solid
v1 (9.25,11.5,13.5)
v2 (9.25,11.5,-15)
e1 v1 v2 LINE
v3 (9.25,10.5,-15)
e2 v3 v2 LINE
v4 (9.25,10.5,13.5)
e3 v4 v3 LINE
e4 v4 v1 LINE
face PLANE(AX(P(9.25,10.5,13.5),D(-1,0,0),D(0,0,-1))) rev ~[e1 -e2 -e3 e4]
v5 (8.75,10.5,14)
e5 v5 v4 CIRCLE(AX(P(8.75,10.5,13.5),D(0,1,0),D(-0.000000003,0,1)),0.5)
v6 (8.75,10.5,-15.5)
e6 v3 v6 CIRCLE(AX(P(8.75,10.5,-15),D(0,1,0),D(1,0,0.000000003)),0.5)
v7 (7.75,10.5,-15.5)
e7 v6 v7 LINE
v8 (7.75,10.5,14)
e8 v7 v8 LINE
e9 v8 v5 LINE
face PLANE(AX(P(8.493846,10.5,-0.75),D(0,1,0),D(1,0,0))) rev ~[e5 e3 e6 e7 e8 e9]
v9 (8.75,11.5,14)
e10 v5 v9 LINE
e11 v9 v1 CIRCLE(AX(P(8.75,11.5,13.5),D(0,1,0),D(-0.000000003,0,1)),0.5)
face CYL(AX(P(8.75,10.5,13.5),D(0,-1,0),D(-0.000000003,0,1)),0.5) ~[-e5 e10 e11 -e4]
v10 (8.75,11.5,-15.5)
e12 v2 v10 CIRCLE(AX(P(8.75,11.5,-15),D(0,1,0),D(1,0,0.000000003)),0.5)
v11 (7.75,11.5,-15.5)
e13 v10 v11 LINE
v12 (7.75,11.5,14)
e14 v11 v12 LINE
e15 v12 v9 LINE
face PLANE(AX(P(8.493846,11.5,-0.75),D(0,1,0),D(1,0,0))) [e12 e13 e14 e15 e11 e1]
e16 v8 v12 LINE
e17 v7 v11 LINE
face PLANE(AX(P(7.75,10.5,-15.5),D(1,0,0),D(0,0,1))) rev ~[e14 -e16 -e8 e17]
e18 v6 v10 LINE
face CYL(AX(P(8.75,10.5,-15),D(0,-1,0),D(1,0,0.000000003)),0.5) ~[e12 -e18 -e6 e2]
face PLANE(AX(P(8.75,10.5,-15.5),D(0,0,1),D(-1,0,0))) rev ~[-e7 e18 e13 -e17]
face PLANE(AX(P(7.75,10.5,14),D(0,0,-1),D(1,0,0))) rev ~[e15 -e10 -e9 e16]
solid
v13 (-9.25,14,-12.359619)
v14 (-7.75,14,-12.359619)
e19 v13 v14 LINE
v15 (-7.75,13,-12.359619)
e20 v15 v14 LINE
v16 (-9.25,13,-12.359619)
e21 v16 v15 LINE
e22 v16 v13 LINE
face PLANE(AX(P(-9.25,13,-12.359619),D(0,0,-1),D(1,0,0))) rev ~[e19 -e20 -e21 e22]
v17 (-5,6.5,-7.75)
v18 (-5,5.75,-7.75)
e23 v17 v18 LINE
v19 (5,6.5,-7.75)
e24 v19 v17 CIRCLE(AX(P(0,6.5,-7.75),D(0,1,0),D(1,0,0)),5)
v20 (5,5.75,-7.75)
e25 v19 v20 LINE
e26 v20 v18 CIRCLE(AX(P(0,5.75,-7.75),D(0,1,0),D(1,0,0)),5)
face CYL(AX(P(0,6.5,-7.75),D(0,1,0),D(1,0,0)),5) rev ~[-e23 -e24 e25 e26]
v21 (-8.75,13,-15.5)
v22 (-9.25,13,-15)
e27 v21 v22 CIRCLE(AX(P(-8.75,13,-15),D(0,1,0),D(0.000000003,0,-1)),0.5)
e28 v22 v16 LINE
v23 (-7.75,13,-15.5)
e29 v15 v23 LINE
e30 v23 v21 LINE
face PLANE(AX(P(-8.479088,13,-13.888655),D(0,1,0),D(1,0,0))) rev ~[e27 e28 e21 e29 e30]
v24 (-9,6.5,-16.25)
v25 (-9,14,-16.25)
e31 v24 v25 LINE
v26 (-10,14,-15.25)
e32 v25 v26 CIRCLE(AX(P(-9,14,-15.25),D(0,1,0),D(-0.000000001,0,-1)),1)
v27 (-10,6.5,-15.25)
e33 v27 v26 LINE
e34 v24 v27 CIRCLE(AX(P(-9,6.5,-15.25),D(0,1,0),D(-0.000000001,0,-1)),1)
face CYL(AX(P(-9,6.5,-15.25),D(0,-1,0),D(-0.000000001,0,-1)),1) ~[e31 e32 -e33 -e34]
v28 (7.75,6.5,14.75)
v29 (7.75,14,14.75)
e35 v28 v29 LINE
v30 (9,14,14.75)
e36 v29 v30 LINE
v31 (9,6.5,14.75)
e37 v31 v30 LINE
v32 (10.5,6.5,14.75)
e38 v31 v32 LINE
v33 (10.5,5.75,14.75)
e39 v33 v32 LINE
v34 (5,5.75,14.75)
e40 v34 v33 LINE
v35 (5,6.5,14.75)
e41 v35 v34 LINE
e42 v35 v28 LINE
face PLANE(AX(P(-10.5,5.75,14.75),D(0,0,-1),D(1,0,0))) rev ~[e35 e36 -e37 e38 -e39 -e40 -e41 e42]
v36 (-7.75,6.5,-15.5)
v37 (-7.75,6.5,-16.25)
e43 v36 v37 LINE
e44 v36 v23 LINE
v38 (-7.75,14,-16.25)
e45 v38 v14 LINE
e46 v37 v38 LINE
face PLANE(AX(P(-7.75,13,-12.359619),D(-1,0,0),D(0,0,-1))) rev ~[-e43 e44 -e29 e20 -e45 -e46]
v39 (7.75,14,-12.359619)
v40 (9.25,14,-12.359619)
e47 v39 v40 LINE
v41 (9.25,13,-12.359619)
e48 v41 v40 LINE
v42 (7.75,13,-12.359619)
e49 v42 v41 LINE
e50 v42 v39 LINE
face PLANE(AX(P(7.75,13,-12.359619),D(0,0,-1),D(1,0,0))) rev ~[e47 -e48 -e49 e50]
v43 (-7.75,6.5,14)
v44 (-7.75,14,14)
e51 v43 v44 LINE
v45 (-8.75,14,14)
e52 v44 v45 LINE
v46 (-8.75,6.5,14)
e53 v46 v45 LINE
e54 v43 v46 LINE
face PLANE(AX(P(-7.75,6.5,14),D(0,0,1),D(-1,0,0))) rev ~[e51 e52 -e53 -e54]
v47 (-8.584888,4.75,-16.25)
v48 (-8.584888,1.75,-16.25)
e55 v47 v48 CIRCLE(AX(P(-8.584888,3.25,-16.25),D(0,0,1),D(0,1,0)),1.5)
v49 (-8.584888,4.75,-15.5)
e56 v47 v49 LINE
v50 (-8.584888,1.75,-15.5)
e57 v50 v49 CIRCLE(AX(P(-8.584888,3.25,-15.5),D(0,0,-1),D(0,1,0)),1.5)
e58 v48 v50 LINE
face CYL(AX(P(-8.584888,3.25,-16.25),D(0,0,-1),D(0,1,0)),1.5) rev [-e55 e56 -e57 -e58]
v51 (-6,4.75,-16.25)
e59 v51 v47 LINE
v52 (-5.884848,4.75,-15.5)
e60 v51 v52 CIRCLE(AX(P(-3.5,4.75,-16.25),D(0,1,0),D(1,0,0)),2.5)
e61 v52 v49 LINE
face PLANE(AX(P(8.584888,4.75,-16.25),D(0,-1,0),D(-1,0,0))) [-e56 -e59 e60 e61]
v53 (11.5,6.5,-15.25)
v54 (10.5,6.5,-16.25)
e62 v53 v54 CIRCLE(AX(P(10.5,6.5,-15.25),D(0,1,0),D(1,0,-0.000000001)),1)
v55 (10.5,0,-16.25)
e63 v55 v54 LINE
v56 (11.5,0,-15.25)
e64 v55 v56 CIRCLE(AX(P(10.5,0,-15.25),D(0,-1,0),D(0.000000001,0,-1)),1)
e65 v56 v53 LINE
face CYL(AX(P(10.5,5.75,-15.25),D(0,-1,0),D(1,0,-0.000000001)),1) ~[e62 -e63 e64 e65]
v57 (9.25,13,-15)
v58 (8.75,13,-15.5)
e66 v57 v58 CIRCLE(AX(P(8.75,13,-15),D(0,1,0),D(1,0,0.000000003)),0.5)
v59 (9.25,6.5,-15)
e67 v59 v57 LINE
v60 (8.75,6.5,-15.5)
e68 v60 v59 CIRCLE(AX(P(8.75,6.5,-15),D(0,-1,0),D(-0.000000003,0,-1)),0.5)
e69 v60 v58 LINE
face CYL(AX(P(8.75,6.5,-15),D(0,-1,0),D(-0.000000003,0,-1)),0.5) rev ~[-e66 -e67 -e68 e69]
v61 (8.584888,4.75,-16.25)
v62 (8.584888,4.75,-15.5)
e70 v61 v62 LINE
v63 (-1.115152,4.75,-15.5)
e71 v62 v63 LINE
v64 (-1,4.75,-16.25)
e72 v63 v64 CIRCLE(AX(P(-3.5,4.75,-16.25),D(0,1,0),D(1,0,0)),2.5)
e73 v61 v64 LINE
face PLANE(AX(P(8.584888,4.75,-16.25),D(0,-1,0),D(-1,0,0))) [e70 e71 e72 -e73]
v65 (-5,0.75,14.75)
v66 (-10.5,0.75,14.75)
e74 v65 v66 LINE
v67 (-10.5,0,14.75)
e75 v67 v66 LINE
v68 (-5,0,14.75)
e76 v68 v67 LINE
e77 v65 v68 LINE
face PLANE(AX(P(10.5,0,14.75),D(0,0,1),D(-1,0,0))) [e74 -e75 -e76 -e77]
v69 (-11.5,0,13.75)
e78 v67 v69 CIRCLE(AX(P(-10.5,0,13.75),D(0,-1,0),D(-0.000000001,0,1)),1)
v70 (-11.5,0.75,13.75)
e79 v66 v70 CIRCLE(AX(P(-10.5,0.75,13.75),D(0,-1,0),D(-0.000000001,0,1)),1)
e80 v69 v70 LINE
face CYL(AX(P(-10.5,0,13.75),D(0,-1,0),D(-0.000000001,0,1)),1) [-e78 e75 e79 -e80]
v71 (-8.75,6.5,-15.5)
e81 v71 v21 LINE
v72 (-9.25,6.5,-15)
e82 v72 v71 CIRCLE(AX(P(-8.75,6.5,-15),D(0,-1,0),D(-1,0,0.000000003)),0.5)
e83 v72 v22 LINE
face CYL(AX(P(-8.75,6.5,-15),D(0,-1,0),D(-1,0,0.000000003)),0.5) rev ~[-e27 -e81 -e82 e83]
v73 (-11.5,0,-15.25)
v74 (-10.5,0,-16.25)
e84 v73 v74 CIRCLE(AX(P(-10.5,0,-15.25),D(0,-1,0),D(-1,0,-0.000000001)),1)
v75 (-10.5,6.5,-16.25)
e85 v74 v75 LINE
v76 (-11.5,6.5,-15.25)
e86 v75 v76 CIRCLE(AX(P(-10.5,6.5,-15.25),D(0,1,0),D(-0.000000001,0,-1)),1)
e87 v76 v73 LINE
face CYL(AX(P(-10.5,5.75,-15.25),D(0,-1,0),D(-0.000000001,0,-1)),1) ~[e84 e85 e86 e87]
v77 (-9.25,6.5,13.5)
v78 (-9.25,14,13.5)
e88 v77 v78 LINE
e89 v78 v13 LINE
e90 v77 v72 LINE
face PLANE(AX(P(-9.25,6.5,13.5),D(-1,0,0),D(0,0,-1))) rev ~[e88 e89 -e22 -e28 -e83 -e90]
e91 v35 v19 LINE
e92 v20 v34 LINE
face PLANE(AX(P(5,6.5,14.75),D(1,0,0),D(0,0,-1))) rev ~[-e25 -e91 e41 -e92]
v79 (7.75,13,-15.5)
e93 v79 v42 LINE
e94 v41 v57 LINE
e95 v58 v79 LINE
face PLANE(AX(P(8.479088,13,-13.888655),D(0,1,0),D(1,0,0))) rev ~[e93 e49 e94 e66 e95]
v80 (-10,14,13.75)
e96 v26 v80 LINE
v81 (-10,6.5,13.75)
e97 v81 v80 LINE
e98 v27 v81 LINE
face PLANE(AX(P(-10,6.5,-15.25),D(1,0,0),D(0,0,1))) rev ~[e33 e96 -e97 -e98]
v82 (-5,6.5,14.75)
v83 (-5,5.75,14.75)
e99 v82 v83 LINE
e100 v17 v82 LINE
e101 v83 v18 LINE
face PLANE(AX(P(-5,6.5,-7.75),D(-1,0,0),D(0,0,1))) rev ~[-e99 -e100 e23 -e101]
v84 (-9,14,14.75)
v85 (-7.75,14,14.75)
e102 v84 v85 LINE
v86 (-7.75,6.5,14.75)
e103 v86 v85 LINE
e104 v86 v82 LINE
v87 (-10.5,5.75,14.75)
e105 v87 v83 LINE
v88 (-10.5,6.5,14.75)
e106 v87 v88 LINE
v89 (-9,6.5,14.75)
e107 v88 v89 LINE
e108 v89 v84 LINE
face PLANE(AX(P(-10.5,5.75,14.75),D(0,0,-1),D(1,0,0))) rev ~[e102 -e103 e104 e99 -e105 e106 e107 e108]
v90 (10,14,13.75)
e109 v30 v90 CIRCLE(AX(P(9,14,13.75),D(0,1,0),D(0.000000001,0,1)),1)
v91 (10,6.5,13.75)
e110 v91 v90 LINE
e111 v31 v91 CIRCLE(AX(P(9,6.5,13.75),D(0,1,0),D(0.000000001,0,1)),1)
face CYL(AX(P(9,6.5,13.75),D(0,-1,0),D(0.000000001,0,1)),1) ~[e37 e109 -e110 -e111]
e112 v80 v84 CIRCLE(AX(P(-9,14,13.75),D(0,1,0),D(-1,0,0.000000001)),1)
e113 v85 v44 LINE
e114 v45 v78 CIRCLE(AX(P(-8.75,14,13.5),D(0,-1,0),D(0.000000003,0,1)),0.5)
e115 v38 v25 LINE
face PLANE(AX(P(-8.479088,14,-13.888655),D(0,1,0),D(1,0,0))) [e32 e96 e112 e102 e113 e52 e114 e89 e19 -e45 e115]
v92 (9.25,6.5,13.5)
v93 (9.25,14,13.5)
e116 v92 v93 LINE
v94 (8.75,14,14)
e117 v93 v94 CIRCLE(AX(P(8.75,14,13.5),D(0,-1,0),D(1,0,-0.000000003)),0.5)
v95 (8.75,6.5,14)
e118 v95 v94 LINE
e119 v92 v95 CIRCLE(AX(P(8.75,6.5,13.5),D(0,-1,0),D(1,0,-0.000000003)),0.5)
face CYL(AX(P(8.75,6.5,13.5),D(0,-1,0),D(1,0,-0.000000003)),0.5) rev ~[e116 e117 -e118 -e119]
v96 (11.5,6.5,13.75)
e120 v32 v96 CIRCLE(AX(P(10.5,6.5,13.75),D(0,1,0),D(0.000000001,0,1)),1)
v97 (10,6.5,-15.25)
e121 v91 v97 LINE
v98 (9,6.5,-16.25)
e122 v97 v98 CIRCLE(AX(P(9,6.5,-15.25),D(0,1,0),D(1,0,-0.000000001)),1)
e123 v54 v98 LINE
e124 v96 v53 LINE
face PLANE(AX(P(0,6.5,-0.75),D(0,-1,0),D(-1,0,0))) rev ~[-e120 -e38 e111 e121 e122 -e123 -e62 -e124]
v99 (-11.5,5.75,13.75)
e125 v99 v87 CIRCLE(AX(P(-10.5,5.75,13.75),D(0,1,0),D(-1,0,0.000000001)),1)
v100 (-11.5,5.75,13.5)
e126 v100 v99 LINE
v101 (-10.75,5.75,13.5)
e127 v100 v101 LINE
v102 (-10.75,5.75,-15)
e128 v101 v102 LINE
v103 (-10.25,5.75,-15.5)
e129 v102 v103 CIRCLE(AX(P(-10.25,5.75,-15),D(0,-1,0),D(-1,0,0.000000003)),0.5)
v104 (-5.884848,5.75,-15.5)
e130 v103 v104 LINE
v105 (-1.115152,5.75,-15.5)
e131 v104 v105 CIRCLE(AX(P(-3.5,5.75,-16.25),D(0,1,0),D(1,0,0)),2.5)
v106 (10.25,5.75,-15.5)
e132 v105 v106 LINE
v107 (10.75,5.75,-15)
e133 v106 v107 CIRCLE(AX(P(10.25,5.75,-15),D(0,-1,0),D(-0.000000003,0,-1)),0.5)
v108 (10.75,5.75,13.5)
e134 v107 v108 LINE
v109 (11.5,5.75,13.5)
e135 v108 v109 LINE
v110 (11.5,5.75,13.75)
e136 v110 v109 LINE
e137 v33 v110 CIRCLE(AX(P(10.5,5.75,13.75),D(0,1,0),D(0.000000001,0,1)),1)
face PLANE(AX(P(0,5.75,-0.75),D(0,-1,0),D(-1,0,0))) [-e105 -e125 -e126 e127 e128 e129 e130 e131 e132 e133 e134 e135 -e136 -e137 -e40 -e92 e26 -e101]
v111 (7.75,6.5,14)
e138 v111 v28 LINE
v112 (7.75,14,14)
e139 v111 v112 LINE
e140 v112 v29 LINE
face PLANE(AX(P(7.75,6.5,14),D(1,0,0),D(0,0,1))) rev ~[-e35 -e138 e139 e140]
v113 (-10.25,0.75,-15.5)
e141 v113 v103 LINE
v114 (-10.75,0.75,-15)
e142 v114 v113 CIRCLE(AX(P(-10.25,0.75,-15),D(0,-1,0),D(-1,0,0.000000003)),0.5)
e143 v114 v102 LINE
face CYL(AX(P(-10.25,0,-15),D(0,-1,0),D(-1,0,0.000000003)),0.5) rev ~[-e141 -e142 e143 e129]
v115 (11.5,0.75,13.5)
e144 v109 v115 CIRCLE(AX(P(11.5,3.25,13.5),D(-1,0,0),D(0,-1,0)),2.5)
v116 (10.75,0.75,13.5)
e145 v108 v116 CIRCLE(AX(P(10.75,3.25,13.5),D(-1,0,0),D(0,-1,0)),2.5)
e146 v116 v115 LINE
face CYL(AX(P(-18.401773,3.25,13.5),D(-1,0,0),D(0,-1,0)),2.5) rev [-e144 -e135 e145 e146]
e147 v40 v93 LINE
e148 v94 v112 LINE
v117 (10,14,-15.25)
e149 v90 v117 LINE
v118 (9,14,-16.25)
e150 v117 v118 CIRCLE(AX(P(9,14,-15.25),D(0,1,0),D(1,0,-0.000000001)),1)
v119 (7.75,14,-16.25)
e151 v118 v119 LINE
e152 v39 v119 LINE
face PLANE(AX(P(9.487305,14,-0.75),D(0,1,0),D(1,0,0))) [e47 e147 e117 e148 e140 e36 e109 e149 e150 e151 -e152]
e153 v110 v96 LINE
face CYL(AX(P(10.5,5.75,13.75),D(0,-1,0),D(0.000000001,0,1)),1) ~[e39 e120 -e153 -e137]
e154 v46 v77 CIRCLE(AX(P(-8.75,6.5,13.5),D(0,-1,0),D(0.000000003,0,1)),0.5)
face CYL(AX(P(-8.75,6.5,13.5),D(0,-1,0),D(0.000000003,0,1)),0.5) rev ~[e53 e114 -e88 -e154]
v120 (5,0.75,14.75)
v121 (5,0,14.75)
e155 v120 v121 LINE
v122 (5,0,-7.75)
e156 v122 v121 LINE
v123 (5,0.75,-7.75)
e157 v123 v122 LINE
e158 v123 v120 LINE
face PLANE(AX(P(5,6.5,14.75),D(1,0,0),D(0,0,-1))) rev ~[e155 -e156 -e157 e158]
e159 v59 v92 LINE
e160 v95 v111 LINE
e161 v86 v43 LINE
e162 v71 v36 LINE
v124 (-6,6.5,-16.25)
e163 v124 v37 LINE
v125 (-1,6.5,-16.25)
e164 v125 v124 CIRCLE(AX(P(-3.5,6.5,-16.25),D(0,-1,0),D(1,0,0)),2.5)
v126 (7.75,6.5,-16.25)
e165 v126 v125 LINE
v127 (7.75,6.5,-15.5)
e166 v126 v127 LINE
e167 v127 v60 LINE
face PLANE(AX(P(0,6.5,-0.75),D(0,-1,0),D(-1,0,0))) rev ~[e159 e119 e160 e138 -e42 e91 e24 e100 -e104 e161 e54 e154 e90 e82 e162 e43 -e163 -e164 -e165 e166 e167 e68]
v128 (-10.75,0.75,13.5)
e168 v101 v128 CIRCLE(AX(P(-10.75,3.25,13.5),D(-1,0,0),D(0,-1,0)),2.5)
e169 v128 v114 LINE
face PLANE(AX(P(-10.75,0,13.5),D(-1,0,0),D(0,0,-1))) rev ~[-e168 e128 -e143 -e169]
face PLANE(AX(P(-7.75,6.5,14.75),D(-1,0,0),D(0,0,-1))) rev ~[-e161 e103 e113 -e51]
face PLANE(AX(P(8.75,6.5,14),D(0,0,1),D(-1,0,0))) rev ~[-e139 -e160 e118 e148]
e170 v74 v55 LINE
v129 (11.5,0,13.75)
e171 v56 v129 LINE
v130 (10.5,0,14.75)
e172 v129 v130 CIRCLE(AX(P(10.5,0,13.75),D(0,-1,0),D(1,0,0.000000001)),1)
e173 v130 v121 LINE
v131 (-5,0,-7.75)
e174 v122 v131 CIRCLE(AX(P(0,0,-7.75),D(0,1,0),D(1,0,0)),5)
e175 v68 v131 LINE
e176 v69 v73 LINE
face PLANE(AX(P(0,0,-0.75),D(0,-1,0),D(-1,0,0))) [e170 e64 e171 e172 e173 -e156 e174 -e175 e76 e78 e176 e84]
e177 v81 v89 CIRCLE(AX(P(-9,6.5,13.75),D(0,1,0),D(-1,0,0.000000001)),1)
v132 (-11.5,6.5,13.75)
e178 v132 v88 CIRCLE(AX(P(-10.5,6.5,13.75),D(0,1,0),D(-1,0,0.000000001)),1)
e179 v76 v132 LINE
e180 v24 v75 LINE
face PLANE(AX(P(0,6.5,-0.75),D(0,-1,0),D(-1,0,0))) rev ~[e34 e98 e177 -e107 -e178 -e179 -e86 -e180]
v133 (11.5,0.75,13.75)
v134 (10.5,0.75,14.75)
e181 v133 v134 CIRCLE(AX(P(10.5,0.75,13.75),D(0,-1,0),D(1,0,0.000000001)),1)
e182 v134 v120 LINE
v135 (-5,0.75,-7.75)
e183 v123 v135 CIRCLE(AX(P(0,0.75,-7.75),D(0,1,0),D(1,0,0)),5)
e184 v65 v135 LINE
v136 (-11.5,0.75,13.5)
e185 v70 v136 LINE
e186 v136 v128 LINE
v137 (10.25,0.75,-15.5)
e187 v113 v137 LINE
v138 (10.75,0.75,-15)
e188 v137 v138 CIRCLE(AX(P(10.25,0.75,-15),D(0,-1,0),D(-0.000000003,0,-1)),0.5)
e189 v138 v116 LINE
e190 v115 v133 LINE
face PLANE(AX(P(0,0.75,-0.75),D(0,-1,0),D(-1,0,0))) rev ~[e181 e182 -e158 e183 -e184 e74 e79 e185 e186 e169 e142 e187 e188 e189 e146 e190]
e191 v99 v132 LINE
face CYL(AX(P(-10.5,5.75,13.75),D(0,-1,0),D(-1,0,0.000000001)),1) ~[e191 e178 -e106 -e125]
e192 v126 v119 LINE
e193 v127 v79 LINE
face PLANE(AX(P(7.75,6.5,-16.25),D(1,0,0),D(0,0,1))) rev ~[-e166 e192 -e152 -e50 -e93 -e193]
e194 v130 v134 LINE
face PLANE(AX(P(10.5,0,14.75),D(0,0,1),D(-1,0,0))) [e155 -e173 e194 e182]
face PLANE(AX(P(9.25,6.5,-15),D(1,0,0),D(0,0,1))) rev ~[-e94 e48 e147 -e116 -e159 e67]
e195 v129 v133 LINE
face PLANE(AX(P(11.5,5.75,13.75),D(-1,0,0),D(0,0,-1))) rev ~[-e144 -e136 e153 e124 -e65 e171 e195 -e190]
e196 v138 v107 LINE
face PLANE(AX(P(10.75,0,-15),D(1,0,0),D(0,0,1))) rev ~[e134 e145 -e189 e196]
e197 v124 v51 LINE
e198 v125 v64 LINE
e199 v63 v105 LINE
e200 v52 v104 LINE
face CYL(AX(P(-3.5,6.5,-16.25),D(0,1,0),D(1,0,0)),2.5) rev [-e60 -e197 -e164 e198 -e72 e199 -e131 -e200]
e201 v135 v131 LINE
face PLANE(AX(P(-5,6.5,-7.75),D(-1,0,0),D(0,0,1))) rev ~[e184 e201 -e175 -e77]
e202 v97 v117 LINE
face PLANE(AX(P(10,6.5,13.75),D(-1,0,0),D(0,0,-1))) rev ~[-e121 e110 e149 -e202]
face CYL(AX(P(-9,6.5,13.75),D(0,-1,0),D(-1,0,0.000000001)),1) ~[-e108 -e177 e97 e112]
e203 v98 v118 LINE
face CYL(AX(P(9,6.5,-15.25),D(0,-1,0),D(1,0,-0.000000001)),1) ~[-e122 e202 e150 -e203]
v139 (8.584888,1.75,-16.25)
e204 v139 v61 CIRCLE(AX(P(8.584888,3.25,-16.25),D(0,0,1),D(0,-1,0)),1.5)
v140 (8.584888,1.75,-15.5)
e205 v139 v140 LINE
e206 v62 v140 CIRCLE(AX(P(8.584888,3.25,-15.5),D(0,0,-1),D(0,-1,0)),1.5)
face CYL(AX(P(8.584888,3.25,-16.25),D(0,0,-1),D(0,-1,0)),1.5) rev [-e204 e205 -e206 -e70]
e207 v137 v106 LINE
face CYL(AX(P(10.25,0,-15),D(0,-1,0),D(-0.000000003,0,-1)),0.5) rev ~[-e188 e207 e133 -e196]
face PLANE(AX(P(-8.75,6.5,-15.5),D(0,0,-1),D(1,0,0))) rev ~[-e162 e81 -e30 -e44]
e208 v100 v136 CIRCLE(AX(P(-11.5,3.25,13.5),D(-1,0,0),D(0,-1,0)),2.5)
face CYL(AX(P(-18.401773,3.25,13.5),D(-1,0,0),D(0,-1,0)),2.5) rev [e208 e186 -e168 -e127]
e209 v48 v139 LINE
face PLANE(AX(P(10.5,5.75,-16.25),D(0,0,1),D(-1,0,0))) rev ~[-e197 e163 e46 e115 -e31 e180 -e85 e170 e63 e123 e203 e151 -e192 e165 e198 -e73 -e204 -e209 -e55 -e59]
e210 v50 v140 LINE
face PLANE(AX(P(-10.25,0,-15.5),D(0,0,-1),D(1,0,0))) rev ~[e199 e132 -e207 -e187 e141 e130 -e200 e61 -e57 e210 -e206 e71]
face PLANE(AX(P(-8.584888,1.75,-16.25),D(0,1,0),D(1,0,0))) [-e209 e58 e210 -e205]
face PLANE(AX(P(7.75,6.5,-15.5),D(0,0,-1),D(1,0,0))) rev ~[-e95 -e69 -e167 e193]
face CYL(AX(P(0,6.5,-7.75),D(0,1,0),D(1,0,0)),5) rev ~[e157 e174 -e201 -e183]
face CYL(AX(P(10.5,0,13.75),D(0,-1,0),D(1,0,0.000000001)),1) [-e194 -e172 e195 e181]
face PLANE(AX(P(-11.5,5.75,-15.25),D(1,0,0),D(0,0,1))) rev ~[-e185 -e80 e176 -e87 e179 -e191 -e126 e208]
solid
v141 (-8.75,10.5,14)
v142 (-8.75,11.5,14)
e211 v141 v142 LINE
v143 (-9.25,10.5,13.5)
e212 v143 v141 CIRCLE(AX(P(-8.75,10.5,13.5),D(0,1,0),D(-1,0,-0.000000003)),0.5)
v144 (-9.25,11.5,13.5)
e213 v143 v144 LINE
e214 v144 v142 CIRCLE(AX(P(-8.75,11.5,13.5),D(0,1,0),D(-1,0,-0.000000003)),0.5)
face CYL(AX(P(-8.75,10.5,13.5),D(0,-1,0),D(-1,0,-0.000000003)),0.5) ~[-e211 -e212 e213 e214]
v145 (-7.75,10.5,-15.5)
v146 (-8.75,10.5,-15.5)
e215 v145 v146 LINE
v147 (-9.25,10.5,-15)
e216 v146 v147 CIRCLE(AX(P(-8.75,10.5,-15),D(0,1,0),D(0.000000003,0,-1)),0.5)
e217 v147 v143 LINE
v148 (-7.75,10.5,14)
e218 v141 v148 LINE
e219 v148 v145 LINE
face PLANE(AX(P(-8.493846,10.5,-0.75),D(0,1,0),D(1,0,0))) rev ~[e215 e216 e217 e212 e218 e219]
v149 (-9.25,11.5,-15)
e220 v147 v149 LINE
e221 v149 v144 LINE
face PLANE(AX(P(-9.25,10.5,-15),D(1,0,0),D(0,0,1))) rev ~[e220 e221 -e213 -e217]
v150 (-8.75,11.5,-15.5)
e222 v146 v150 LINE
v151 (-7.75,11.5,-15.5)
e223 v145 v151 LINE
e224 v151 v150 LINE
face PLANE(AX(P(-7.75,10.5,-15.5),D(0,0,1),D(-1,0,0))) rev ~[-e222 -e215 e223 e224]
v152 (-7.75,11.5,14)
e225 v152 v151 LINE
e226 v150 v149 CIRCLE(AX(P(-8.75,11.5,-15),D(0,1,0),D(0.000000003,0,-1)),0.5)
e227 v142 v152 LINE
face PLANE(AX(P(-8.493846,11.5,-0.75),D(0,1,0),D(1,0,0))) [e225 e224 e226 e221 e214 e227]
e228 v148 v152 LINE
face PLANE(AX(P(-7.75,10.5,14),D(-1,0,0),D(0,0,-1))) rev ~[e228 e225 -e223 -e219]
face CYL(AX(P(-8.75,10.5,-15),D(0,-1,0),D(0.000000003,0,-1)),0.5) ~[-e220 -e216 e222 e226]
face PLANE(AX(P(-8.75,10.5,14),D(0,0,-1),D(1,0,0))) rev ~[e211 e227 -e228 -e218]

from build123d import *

# Parameters (mm, degrees)
BASE_EXTRUDE_DEPTH          = 0.75
SIDEWALL_EXTRUDE_DEPTH      = 5.75
TOP_EXTRUDE_START           = 5.75
TOP_EXTRUDE_DEPTH           = 0.75
CUT_EXTRUDE1_DEPTH          = 29.901773302
CUT_EXTRUDE1_DEPTH_BACK     = 29.901773302
PCB_SUPPORT_EXTRUDE_START   = 4
PCB_SUPPORT_EXTRUDE_DEPTH   = 1
PCB_SUPPORT_EXTRUDE_2_DEPTH = 1
PCB_RIM_EXTRUDE_DEPTH       = 7.5
CUT_EXTRUDE2_DEPTH          = 22.2735164
CUT_EXTRUDE3_DEPTH          = 3.5
CUT_EXTRUDE4_DEPTH          = 2
BOSS_EXTRUDE1_START         = 6.5
BOSS_EXTRUDE1_DEPTH         = 1


with BuildPart() as part:
    # battery-base → base-extrude (new body)
    with BuildSketch(Plane(origin=(0, 0, 0), x_dir=(1, 0, 0), z_dir=(0, 1, 0))):
        with BuildLine():
            Line((-10.5, 16.25), (10.5, 16.25))
            ThreePointArc((10.5, 16.25), (11.207106781, 15.957106781), (11.5, 15.25))
            Line((11.5, 15.25), (11.5, -13.75))
            ThreePointArc((11.5, -13.75), (11.207106781, -14.457106781), (10.5, -14.75))
            Line((10.5, -14.75), (-10.5, -14.75))
            ThreePointArc((-10.5, -14.75), (-11.207106781, -14.457106781), (-11.5, -13.75))
            Line((-11.5, -13.75), (-11.5, 15.25))
            ThreePointArc((-11.5, 15.25), (-11.207106781, 15.957106781), (-10.5, 16.25))
        make_face()
    extrude(amount=BASE_EXTRUDE_DEPTH)

    # battery-base<12> → sidewall-extrude (add)
    with BuildSketch(Plane(origin=(0, 0, 0), x_dir=(1, 0, 0), z_dir=(0, 1, 0))):
        with BuildLine():
            Line((-11.5, -13.5), (-10.75, -13.5))
            Line((-10.75, -13.5), (-10.75, 15))
            ThreePointArc((-10.75, 15), (-10.603553391, 15.353553391), (-10.25, 15.5))
            Line((-10.25, 15.5), (10.25, 15.5))
            ThreePointArc((10.25, 15.5), (10.603553391, 15.353553391), (10.75, 15))
            Line((10.75, 15), (10.75, -13.5))
            Line((10.75, -13.5), (11.5, -13.5))
            Line((11.5, -13.5), (11.5, 15.25))
            ThreePointArc((11.5, 15.25), (11.207106781, 15.957106781), (10.5, 16.25))
            Line((10.5, 16.25), (-10.5, 16.25))
            ThreePointArc((-10.5, 16.25), (-11.207106781, 15.957106781), (-11.5, 15.25))
            Line((-11.5, 15.25), (-11.5, -13.5))
        make_face()
    extrude(amount=SIDEWALL_EXTRUDE_DEPTH)

    # battery-base<13> → top-extrude (add)
    with BuildSketch(Plane(origin=(0, 0, 0), x_dir=(1, 0, 0), z_dir=(0, 1, 0)).offset(TOP_EXTRUDE_START)):
        with BuildLine():
            Line((11.5, -13.75), (11.5, 15.25))
            ThreePointArc((11.5, 15.25), (11.207106781, 15.957106781), (10.5, 16.25))
            Line((10.5, 16.25), (-10.5, 16.25))
            ThreePointArc((-10.5, 16.25), (-11.207106781, 15.957106781), (-11.5, 15.25))
            Line((-11.5, 15.25), (-11.5, -13.75))
            ThreePointArc((-11.5, -13.75), (-11.207106781, -14.457106781), (-10.5, -14.75))
            Line((-10.5, -14.75), (10.5, -14.75))
            ThreePointArc((10.5, -14.75), (11.207106781, -14.457106781), (11.5, -13.75))
        make_face()
    extrude(amount=TOP_EXTRUDE_DEPTH)

    # round-cut → Cut-Extrude1 (cut, two sides: drawn at the far end of the back side and taken through both)
    with BuildSketch(Plane(origin=(11.5, 0, 0), x_dir=(0, 0, -1), z_dir=(1, 0, 0)).offset(-CUT_EXTRUDE1_DEPTH_BACK)):
        with BuildLine():
            Line((-84.101155105, 0.75), (-13.5, 0.75))
            ThreePointArc((-13.5, 0.75), (-11, 3.25), (-13.5, 5.75))
            Line((-13.5, 5.75), (-84.101155105, 5.75))
            Line((-84.101155105, 5.75), (-225.303465314, 5.75))
            Line((-225.303465314, 5.75), (-225.303465314, 0.75))
            Line((-225.303465314, 0.75), (-84.101155105, 0.75))
        make_face()
    extrude(amount=CUT_EXTRUDE1_DEPTH + CUT_EXTRUDE1_DEPTH_BACK, mode=Mode.SUBTRACT)

    # PCB-support<3> → PCB-rim-extrude (add)
    with BuildSketch(Plane(origin=(0, 6.5, 0), x_dir=(1, 0, 0), z_dir=(0, 1, 0))):
        with BuildLine():
            Line((-7.75, -14.75), (-7.75, -14))
            Line((-7.75, -14), (-8.75, -14))
            ThreePointArc((-8.75, -14), (-9.103553391, -13.853553391), (-9.25, -13.5))
            Line((-9.25, -13.5), (-9.25, 15))
            ThreePointArc((-9.25, 15), (-9.103553391, 15.353553391), (-8.75, 15.5))
            Line((-8.75, 15.5), (-7.75, 15.5))
            Line((-7.75, 15.5), (-7.75, 16.25))
            Line((-7.75, 16.25), (-9, 16.25))
            ThreePointArc((-9, 16.25), (-9.707106781, 15.957106781), (-10, 15.25))
            Line((-10, 15.25), (-10, -13.75))
            ThreePointArc((-10, -13.75), (-9.707106781, -14.457106781), (-9, -14.75))
            Line((-9, -14.75), (-7.75, -14.75))
        make_face()
        with BuildLine():
            Line((8.75, -14), (7.75, -14))
            Line((7.75, -14), (7.75, -14.75))
            Line((7.75, -14.75), (9, -14.75))
            ThreePointArc((9, -14.75), (9.707106781, -14.457106781), (10, -13.75))
            Line((10, -13.75), (10, 15.25))
            ThreePointArc((10, 15.25), (9.707106781, 15.957106781), (9, 16.25))
            Line((9, 16.25), (7.75, 16.25))
            Line((7.75, 16.25), (7.75, 15.5))
            Line((7.75, 15.5), (8.75, 15.5))
            ThreePointArc((8.75, 15.5), (9.103553391, 15.353553391), (9.25, 15))
            Line((9.25, 15), (9.25, -13.5))
            ThreePointArc((9.25, -13.5), (9.103553391, -13.853553391), (8.75, -14))
        make_face()
    extrude(amount=PCB_RIM_EXTRUDE_DEPTH)

    # cut-away → Cut-Extrude2 (cut, through all)
    with BuildSketch(Plane(origin=(0, 6.5, 0), x_dir=(1, 0, 0), z_dir=(0, 1, 0))):
        with BuildLine():
            Line((-5, 7.75), (-5, -14.75))
            Line((-5, -14.75), (5, -14.75))
            Line((5, -14.75), (5, 7.75))
            ThreePointArc((5, 7.75), (0, 12.75), (-5, 7.75))
        make_face()
    extrude(amount=-CUT_EXTRUDE2_DEPTH, mode=Mode.SUBTRACT)

    # Sketch7 → Cut-Extrude3 (cut)
    with BuildSketch(Plane(origin=(0, 0, -16.25), x_dir=(-1, 0, 0), z_dir=(0, 0, -1))):
        with BuildLine():
            Line((8.584888193, 1.75), (-8.584888193, 1.75))
            ThreePointArc((-8.584888193, 1.75), (-10.084888193, 3.25), (-8.584888193, 4.75))
            Line((-8.584888193, 4.75), (8.584888193, 4.75))
            ThreePointArc((8.584888193, 4.75), (10.084888193, 3.25), (8.584888193, 1.75))
        make_face()
    extrude(amount=-CUT_EXTRUDE3_DEPTH, mode=Mode.SUBTRACT)

    # Sketch8 → Cut-Extrude4 (cut)
    with BuildSketch(Plane(origin=(0, 6.5, 0), x_dir=(1, 0, 0), z_dir=(0, 1, 0))):
        with BuildLine():
            Line((-6, 16.25), (-1, 16.25))
            ThreePointArc((-1, 16.25), (-3.5, 13.75), (-6, 16.25))
        make_face()
    extrude(amount=-CUT_EXTRUDE4_DEPTH, mode=Mode.SUBTRACT)

    # PCB-support<4> → Boss-Extrude1 (add)
    with BuildSketch(Plane(origin=(0, 6.5, 0), x_dir=(1, 0, 0), z_dir=(0, 1, 0)).offset(BOSS_EXTRUDE1_START)):
        with BuildLine():
            Line((-9.25, 12.359619479), (-7.75, 12.359619479))
            Line((-7.75, 12.359619479), (-7.75, 15.5))
            Line((-7.75, 15.5), (-8.75, 15.5))
            ThreePointArc((-8.75, 15.5), (-9.103553391, 15.353553391), (-9.25, 15))
            Line((-9.25, 15), (-9.25, 12.359619479))
        make_face()
        with BuildLine():
            Line((7.75, 15.5), (7.75, 12.359619479))
            Line((7.75, 12.359619479), (9.25, 12.359619479))
            Line((9.25, 12.359619479), (9.25, 15))
            ThreePointArc((9.25, 15), (9.103553391, 15.353553391), (8.75, 15.5))
            Line((8.75, 15.5), (7.75, 15.5))
        make_face()
    extrude(amount=BOSS_EXTRUDE1_DEPTH)


with BuildPart() as body_2:
    # PCB-support → PCB-support-extrude (new body)
    with BuildSketch(Plane(origin=(0, 6.5, 0), x_dir=(1, 0, 0), z_dir=(0, 1, 0)).offset(PCB_SUPPORT_EXTRUDE_START)):
        with BuildLine():
            Line((-8.75, -14), (-7.75, -14))
            Line((-7.75, -14), (-7.75, 15.5))
            Line((-7.75, 15.5), (-8.75, 15.5))
            ThreePointArc((-8.75, 15.5), (-9.103553391, 15.353553391), (-9.25, 15))
            Line((-9.25, 15), (-9.25, -13.5))
            ThreePointArc((-9.25, -13.5), (-9.103553391, -13.853553391), (-8.75, -14))
        make_face()
    extrude(amount=PCB_SUPPORT_EXTRUDE_DEPTH)


with BuildPart() as body_3:
    # PCB-support → PCB-support-extrude 2 (new body)
    with BuildSketch(Plane(origin=(0, 6.5, 0), x_dir=(1, 0, 0), z_dir=(0, 1, 0)).offset(PCB_SUPPORT_EXTRUDE_START)):
        with BuildLine():
            Line((7.75, -14), (8.75, -14))
            ThreePointArc((8.75, -14), (9.103553391, -13.853553391), (9.25, -13.5))
            Line((9.25, -13.5), (9.25, 15))
            ThreePointArc((9.25, 15), (9.103553391, 15.353553391), (8.75, 15.5))
            Line((8.75, 15.5), (7.75, 15.5))
            Line((7.75, 15.5), (7.75, -14))
        make_face()
    extrude(amount=PCB_SUPPORT_EXTRUDE_2_DEPTH)


solid = Compound([part.part, body_2.part, body_3.part])
